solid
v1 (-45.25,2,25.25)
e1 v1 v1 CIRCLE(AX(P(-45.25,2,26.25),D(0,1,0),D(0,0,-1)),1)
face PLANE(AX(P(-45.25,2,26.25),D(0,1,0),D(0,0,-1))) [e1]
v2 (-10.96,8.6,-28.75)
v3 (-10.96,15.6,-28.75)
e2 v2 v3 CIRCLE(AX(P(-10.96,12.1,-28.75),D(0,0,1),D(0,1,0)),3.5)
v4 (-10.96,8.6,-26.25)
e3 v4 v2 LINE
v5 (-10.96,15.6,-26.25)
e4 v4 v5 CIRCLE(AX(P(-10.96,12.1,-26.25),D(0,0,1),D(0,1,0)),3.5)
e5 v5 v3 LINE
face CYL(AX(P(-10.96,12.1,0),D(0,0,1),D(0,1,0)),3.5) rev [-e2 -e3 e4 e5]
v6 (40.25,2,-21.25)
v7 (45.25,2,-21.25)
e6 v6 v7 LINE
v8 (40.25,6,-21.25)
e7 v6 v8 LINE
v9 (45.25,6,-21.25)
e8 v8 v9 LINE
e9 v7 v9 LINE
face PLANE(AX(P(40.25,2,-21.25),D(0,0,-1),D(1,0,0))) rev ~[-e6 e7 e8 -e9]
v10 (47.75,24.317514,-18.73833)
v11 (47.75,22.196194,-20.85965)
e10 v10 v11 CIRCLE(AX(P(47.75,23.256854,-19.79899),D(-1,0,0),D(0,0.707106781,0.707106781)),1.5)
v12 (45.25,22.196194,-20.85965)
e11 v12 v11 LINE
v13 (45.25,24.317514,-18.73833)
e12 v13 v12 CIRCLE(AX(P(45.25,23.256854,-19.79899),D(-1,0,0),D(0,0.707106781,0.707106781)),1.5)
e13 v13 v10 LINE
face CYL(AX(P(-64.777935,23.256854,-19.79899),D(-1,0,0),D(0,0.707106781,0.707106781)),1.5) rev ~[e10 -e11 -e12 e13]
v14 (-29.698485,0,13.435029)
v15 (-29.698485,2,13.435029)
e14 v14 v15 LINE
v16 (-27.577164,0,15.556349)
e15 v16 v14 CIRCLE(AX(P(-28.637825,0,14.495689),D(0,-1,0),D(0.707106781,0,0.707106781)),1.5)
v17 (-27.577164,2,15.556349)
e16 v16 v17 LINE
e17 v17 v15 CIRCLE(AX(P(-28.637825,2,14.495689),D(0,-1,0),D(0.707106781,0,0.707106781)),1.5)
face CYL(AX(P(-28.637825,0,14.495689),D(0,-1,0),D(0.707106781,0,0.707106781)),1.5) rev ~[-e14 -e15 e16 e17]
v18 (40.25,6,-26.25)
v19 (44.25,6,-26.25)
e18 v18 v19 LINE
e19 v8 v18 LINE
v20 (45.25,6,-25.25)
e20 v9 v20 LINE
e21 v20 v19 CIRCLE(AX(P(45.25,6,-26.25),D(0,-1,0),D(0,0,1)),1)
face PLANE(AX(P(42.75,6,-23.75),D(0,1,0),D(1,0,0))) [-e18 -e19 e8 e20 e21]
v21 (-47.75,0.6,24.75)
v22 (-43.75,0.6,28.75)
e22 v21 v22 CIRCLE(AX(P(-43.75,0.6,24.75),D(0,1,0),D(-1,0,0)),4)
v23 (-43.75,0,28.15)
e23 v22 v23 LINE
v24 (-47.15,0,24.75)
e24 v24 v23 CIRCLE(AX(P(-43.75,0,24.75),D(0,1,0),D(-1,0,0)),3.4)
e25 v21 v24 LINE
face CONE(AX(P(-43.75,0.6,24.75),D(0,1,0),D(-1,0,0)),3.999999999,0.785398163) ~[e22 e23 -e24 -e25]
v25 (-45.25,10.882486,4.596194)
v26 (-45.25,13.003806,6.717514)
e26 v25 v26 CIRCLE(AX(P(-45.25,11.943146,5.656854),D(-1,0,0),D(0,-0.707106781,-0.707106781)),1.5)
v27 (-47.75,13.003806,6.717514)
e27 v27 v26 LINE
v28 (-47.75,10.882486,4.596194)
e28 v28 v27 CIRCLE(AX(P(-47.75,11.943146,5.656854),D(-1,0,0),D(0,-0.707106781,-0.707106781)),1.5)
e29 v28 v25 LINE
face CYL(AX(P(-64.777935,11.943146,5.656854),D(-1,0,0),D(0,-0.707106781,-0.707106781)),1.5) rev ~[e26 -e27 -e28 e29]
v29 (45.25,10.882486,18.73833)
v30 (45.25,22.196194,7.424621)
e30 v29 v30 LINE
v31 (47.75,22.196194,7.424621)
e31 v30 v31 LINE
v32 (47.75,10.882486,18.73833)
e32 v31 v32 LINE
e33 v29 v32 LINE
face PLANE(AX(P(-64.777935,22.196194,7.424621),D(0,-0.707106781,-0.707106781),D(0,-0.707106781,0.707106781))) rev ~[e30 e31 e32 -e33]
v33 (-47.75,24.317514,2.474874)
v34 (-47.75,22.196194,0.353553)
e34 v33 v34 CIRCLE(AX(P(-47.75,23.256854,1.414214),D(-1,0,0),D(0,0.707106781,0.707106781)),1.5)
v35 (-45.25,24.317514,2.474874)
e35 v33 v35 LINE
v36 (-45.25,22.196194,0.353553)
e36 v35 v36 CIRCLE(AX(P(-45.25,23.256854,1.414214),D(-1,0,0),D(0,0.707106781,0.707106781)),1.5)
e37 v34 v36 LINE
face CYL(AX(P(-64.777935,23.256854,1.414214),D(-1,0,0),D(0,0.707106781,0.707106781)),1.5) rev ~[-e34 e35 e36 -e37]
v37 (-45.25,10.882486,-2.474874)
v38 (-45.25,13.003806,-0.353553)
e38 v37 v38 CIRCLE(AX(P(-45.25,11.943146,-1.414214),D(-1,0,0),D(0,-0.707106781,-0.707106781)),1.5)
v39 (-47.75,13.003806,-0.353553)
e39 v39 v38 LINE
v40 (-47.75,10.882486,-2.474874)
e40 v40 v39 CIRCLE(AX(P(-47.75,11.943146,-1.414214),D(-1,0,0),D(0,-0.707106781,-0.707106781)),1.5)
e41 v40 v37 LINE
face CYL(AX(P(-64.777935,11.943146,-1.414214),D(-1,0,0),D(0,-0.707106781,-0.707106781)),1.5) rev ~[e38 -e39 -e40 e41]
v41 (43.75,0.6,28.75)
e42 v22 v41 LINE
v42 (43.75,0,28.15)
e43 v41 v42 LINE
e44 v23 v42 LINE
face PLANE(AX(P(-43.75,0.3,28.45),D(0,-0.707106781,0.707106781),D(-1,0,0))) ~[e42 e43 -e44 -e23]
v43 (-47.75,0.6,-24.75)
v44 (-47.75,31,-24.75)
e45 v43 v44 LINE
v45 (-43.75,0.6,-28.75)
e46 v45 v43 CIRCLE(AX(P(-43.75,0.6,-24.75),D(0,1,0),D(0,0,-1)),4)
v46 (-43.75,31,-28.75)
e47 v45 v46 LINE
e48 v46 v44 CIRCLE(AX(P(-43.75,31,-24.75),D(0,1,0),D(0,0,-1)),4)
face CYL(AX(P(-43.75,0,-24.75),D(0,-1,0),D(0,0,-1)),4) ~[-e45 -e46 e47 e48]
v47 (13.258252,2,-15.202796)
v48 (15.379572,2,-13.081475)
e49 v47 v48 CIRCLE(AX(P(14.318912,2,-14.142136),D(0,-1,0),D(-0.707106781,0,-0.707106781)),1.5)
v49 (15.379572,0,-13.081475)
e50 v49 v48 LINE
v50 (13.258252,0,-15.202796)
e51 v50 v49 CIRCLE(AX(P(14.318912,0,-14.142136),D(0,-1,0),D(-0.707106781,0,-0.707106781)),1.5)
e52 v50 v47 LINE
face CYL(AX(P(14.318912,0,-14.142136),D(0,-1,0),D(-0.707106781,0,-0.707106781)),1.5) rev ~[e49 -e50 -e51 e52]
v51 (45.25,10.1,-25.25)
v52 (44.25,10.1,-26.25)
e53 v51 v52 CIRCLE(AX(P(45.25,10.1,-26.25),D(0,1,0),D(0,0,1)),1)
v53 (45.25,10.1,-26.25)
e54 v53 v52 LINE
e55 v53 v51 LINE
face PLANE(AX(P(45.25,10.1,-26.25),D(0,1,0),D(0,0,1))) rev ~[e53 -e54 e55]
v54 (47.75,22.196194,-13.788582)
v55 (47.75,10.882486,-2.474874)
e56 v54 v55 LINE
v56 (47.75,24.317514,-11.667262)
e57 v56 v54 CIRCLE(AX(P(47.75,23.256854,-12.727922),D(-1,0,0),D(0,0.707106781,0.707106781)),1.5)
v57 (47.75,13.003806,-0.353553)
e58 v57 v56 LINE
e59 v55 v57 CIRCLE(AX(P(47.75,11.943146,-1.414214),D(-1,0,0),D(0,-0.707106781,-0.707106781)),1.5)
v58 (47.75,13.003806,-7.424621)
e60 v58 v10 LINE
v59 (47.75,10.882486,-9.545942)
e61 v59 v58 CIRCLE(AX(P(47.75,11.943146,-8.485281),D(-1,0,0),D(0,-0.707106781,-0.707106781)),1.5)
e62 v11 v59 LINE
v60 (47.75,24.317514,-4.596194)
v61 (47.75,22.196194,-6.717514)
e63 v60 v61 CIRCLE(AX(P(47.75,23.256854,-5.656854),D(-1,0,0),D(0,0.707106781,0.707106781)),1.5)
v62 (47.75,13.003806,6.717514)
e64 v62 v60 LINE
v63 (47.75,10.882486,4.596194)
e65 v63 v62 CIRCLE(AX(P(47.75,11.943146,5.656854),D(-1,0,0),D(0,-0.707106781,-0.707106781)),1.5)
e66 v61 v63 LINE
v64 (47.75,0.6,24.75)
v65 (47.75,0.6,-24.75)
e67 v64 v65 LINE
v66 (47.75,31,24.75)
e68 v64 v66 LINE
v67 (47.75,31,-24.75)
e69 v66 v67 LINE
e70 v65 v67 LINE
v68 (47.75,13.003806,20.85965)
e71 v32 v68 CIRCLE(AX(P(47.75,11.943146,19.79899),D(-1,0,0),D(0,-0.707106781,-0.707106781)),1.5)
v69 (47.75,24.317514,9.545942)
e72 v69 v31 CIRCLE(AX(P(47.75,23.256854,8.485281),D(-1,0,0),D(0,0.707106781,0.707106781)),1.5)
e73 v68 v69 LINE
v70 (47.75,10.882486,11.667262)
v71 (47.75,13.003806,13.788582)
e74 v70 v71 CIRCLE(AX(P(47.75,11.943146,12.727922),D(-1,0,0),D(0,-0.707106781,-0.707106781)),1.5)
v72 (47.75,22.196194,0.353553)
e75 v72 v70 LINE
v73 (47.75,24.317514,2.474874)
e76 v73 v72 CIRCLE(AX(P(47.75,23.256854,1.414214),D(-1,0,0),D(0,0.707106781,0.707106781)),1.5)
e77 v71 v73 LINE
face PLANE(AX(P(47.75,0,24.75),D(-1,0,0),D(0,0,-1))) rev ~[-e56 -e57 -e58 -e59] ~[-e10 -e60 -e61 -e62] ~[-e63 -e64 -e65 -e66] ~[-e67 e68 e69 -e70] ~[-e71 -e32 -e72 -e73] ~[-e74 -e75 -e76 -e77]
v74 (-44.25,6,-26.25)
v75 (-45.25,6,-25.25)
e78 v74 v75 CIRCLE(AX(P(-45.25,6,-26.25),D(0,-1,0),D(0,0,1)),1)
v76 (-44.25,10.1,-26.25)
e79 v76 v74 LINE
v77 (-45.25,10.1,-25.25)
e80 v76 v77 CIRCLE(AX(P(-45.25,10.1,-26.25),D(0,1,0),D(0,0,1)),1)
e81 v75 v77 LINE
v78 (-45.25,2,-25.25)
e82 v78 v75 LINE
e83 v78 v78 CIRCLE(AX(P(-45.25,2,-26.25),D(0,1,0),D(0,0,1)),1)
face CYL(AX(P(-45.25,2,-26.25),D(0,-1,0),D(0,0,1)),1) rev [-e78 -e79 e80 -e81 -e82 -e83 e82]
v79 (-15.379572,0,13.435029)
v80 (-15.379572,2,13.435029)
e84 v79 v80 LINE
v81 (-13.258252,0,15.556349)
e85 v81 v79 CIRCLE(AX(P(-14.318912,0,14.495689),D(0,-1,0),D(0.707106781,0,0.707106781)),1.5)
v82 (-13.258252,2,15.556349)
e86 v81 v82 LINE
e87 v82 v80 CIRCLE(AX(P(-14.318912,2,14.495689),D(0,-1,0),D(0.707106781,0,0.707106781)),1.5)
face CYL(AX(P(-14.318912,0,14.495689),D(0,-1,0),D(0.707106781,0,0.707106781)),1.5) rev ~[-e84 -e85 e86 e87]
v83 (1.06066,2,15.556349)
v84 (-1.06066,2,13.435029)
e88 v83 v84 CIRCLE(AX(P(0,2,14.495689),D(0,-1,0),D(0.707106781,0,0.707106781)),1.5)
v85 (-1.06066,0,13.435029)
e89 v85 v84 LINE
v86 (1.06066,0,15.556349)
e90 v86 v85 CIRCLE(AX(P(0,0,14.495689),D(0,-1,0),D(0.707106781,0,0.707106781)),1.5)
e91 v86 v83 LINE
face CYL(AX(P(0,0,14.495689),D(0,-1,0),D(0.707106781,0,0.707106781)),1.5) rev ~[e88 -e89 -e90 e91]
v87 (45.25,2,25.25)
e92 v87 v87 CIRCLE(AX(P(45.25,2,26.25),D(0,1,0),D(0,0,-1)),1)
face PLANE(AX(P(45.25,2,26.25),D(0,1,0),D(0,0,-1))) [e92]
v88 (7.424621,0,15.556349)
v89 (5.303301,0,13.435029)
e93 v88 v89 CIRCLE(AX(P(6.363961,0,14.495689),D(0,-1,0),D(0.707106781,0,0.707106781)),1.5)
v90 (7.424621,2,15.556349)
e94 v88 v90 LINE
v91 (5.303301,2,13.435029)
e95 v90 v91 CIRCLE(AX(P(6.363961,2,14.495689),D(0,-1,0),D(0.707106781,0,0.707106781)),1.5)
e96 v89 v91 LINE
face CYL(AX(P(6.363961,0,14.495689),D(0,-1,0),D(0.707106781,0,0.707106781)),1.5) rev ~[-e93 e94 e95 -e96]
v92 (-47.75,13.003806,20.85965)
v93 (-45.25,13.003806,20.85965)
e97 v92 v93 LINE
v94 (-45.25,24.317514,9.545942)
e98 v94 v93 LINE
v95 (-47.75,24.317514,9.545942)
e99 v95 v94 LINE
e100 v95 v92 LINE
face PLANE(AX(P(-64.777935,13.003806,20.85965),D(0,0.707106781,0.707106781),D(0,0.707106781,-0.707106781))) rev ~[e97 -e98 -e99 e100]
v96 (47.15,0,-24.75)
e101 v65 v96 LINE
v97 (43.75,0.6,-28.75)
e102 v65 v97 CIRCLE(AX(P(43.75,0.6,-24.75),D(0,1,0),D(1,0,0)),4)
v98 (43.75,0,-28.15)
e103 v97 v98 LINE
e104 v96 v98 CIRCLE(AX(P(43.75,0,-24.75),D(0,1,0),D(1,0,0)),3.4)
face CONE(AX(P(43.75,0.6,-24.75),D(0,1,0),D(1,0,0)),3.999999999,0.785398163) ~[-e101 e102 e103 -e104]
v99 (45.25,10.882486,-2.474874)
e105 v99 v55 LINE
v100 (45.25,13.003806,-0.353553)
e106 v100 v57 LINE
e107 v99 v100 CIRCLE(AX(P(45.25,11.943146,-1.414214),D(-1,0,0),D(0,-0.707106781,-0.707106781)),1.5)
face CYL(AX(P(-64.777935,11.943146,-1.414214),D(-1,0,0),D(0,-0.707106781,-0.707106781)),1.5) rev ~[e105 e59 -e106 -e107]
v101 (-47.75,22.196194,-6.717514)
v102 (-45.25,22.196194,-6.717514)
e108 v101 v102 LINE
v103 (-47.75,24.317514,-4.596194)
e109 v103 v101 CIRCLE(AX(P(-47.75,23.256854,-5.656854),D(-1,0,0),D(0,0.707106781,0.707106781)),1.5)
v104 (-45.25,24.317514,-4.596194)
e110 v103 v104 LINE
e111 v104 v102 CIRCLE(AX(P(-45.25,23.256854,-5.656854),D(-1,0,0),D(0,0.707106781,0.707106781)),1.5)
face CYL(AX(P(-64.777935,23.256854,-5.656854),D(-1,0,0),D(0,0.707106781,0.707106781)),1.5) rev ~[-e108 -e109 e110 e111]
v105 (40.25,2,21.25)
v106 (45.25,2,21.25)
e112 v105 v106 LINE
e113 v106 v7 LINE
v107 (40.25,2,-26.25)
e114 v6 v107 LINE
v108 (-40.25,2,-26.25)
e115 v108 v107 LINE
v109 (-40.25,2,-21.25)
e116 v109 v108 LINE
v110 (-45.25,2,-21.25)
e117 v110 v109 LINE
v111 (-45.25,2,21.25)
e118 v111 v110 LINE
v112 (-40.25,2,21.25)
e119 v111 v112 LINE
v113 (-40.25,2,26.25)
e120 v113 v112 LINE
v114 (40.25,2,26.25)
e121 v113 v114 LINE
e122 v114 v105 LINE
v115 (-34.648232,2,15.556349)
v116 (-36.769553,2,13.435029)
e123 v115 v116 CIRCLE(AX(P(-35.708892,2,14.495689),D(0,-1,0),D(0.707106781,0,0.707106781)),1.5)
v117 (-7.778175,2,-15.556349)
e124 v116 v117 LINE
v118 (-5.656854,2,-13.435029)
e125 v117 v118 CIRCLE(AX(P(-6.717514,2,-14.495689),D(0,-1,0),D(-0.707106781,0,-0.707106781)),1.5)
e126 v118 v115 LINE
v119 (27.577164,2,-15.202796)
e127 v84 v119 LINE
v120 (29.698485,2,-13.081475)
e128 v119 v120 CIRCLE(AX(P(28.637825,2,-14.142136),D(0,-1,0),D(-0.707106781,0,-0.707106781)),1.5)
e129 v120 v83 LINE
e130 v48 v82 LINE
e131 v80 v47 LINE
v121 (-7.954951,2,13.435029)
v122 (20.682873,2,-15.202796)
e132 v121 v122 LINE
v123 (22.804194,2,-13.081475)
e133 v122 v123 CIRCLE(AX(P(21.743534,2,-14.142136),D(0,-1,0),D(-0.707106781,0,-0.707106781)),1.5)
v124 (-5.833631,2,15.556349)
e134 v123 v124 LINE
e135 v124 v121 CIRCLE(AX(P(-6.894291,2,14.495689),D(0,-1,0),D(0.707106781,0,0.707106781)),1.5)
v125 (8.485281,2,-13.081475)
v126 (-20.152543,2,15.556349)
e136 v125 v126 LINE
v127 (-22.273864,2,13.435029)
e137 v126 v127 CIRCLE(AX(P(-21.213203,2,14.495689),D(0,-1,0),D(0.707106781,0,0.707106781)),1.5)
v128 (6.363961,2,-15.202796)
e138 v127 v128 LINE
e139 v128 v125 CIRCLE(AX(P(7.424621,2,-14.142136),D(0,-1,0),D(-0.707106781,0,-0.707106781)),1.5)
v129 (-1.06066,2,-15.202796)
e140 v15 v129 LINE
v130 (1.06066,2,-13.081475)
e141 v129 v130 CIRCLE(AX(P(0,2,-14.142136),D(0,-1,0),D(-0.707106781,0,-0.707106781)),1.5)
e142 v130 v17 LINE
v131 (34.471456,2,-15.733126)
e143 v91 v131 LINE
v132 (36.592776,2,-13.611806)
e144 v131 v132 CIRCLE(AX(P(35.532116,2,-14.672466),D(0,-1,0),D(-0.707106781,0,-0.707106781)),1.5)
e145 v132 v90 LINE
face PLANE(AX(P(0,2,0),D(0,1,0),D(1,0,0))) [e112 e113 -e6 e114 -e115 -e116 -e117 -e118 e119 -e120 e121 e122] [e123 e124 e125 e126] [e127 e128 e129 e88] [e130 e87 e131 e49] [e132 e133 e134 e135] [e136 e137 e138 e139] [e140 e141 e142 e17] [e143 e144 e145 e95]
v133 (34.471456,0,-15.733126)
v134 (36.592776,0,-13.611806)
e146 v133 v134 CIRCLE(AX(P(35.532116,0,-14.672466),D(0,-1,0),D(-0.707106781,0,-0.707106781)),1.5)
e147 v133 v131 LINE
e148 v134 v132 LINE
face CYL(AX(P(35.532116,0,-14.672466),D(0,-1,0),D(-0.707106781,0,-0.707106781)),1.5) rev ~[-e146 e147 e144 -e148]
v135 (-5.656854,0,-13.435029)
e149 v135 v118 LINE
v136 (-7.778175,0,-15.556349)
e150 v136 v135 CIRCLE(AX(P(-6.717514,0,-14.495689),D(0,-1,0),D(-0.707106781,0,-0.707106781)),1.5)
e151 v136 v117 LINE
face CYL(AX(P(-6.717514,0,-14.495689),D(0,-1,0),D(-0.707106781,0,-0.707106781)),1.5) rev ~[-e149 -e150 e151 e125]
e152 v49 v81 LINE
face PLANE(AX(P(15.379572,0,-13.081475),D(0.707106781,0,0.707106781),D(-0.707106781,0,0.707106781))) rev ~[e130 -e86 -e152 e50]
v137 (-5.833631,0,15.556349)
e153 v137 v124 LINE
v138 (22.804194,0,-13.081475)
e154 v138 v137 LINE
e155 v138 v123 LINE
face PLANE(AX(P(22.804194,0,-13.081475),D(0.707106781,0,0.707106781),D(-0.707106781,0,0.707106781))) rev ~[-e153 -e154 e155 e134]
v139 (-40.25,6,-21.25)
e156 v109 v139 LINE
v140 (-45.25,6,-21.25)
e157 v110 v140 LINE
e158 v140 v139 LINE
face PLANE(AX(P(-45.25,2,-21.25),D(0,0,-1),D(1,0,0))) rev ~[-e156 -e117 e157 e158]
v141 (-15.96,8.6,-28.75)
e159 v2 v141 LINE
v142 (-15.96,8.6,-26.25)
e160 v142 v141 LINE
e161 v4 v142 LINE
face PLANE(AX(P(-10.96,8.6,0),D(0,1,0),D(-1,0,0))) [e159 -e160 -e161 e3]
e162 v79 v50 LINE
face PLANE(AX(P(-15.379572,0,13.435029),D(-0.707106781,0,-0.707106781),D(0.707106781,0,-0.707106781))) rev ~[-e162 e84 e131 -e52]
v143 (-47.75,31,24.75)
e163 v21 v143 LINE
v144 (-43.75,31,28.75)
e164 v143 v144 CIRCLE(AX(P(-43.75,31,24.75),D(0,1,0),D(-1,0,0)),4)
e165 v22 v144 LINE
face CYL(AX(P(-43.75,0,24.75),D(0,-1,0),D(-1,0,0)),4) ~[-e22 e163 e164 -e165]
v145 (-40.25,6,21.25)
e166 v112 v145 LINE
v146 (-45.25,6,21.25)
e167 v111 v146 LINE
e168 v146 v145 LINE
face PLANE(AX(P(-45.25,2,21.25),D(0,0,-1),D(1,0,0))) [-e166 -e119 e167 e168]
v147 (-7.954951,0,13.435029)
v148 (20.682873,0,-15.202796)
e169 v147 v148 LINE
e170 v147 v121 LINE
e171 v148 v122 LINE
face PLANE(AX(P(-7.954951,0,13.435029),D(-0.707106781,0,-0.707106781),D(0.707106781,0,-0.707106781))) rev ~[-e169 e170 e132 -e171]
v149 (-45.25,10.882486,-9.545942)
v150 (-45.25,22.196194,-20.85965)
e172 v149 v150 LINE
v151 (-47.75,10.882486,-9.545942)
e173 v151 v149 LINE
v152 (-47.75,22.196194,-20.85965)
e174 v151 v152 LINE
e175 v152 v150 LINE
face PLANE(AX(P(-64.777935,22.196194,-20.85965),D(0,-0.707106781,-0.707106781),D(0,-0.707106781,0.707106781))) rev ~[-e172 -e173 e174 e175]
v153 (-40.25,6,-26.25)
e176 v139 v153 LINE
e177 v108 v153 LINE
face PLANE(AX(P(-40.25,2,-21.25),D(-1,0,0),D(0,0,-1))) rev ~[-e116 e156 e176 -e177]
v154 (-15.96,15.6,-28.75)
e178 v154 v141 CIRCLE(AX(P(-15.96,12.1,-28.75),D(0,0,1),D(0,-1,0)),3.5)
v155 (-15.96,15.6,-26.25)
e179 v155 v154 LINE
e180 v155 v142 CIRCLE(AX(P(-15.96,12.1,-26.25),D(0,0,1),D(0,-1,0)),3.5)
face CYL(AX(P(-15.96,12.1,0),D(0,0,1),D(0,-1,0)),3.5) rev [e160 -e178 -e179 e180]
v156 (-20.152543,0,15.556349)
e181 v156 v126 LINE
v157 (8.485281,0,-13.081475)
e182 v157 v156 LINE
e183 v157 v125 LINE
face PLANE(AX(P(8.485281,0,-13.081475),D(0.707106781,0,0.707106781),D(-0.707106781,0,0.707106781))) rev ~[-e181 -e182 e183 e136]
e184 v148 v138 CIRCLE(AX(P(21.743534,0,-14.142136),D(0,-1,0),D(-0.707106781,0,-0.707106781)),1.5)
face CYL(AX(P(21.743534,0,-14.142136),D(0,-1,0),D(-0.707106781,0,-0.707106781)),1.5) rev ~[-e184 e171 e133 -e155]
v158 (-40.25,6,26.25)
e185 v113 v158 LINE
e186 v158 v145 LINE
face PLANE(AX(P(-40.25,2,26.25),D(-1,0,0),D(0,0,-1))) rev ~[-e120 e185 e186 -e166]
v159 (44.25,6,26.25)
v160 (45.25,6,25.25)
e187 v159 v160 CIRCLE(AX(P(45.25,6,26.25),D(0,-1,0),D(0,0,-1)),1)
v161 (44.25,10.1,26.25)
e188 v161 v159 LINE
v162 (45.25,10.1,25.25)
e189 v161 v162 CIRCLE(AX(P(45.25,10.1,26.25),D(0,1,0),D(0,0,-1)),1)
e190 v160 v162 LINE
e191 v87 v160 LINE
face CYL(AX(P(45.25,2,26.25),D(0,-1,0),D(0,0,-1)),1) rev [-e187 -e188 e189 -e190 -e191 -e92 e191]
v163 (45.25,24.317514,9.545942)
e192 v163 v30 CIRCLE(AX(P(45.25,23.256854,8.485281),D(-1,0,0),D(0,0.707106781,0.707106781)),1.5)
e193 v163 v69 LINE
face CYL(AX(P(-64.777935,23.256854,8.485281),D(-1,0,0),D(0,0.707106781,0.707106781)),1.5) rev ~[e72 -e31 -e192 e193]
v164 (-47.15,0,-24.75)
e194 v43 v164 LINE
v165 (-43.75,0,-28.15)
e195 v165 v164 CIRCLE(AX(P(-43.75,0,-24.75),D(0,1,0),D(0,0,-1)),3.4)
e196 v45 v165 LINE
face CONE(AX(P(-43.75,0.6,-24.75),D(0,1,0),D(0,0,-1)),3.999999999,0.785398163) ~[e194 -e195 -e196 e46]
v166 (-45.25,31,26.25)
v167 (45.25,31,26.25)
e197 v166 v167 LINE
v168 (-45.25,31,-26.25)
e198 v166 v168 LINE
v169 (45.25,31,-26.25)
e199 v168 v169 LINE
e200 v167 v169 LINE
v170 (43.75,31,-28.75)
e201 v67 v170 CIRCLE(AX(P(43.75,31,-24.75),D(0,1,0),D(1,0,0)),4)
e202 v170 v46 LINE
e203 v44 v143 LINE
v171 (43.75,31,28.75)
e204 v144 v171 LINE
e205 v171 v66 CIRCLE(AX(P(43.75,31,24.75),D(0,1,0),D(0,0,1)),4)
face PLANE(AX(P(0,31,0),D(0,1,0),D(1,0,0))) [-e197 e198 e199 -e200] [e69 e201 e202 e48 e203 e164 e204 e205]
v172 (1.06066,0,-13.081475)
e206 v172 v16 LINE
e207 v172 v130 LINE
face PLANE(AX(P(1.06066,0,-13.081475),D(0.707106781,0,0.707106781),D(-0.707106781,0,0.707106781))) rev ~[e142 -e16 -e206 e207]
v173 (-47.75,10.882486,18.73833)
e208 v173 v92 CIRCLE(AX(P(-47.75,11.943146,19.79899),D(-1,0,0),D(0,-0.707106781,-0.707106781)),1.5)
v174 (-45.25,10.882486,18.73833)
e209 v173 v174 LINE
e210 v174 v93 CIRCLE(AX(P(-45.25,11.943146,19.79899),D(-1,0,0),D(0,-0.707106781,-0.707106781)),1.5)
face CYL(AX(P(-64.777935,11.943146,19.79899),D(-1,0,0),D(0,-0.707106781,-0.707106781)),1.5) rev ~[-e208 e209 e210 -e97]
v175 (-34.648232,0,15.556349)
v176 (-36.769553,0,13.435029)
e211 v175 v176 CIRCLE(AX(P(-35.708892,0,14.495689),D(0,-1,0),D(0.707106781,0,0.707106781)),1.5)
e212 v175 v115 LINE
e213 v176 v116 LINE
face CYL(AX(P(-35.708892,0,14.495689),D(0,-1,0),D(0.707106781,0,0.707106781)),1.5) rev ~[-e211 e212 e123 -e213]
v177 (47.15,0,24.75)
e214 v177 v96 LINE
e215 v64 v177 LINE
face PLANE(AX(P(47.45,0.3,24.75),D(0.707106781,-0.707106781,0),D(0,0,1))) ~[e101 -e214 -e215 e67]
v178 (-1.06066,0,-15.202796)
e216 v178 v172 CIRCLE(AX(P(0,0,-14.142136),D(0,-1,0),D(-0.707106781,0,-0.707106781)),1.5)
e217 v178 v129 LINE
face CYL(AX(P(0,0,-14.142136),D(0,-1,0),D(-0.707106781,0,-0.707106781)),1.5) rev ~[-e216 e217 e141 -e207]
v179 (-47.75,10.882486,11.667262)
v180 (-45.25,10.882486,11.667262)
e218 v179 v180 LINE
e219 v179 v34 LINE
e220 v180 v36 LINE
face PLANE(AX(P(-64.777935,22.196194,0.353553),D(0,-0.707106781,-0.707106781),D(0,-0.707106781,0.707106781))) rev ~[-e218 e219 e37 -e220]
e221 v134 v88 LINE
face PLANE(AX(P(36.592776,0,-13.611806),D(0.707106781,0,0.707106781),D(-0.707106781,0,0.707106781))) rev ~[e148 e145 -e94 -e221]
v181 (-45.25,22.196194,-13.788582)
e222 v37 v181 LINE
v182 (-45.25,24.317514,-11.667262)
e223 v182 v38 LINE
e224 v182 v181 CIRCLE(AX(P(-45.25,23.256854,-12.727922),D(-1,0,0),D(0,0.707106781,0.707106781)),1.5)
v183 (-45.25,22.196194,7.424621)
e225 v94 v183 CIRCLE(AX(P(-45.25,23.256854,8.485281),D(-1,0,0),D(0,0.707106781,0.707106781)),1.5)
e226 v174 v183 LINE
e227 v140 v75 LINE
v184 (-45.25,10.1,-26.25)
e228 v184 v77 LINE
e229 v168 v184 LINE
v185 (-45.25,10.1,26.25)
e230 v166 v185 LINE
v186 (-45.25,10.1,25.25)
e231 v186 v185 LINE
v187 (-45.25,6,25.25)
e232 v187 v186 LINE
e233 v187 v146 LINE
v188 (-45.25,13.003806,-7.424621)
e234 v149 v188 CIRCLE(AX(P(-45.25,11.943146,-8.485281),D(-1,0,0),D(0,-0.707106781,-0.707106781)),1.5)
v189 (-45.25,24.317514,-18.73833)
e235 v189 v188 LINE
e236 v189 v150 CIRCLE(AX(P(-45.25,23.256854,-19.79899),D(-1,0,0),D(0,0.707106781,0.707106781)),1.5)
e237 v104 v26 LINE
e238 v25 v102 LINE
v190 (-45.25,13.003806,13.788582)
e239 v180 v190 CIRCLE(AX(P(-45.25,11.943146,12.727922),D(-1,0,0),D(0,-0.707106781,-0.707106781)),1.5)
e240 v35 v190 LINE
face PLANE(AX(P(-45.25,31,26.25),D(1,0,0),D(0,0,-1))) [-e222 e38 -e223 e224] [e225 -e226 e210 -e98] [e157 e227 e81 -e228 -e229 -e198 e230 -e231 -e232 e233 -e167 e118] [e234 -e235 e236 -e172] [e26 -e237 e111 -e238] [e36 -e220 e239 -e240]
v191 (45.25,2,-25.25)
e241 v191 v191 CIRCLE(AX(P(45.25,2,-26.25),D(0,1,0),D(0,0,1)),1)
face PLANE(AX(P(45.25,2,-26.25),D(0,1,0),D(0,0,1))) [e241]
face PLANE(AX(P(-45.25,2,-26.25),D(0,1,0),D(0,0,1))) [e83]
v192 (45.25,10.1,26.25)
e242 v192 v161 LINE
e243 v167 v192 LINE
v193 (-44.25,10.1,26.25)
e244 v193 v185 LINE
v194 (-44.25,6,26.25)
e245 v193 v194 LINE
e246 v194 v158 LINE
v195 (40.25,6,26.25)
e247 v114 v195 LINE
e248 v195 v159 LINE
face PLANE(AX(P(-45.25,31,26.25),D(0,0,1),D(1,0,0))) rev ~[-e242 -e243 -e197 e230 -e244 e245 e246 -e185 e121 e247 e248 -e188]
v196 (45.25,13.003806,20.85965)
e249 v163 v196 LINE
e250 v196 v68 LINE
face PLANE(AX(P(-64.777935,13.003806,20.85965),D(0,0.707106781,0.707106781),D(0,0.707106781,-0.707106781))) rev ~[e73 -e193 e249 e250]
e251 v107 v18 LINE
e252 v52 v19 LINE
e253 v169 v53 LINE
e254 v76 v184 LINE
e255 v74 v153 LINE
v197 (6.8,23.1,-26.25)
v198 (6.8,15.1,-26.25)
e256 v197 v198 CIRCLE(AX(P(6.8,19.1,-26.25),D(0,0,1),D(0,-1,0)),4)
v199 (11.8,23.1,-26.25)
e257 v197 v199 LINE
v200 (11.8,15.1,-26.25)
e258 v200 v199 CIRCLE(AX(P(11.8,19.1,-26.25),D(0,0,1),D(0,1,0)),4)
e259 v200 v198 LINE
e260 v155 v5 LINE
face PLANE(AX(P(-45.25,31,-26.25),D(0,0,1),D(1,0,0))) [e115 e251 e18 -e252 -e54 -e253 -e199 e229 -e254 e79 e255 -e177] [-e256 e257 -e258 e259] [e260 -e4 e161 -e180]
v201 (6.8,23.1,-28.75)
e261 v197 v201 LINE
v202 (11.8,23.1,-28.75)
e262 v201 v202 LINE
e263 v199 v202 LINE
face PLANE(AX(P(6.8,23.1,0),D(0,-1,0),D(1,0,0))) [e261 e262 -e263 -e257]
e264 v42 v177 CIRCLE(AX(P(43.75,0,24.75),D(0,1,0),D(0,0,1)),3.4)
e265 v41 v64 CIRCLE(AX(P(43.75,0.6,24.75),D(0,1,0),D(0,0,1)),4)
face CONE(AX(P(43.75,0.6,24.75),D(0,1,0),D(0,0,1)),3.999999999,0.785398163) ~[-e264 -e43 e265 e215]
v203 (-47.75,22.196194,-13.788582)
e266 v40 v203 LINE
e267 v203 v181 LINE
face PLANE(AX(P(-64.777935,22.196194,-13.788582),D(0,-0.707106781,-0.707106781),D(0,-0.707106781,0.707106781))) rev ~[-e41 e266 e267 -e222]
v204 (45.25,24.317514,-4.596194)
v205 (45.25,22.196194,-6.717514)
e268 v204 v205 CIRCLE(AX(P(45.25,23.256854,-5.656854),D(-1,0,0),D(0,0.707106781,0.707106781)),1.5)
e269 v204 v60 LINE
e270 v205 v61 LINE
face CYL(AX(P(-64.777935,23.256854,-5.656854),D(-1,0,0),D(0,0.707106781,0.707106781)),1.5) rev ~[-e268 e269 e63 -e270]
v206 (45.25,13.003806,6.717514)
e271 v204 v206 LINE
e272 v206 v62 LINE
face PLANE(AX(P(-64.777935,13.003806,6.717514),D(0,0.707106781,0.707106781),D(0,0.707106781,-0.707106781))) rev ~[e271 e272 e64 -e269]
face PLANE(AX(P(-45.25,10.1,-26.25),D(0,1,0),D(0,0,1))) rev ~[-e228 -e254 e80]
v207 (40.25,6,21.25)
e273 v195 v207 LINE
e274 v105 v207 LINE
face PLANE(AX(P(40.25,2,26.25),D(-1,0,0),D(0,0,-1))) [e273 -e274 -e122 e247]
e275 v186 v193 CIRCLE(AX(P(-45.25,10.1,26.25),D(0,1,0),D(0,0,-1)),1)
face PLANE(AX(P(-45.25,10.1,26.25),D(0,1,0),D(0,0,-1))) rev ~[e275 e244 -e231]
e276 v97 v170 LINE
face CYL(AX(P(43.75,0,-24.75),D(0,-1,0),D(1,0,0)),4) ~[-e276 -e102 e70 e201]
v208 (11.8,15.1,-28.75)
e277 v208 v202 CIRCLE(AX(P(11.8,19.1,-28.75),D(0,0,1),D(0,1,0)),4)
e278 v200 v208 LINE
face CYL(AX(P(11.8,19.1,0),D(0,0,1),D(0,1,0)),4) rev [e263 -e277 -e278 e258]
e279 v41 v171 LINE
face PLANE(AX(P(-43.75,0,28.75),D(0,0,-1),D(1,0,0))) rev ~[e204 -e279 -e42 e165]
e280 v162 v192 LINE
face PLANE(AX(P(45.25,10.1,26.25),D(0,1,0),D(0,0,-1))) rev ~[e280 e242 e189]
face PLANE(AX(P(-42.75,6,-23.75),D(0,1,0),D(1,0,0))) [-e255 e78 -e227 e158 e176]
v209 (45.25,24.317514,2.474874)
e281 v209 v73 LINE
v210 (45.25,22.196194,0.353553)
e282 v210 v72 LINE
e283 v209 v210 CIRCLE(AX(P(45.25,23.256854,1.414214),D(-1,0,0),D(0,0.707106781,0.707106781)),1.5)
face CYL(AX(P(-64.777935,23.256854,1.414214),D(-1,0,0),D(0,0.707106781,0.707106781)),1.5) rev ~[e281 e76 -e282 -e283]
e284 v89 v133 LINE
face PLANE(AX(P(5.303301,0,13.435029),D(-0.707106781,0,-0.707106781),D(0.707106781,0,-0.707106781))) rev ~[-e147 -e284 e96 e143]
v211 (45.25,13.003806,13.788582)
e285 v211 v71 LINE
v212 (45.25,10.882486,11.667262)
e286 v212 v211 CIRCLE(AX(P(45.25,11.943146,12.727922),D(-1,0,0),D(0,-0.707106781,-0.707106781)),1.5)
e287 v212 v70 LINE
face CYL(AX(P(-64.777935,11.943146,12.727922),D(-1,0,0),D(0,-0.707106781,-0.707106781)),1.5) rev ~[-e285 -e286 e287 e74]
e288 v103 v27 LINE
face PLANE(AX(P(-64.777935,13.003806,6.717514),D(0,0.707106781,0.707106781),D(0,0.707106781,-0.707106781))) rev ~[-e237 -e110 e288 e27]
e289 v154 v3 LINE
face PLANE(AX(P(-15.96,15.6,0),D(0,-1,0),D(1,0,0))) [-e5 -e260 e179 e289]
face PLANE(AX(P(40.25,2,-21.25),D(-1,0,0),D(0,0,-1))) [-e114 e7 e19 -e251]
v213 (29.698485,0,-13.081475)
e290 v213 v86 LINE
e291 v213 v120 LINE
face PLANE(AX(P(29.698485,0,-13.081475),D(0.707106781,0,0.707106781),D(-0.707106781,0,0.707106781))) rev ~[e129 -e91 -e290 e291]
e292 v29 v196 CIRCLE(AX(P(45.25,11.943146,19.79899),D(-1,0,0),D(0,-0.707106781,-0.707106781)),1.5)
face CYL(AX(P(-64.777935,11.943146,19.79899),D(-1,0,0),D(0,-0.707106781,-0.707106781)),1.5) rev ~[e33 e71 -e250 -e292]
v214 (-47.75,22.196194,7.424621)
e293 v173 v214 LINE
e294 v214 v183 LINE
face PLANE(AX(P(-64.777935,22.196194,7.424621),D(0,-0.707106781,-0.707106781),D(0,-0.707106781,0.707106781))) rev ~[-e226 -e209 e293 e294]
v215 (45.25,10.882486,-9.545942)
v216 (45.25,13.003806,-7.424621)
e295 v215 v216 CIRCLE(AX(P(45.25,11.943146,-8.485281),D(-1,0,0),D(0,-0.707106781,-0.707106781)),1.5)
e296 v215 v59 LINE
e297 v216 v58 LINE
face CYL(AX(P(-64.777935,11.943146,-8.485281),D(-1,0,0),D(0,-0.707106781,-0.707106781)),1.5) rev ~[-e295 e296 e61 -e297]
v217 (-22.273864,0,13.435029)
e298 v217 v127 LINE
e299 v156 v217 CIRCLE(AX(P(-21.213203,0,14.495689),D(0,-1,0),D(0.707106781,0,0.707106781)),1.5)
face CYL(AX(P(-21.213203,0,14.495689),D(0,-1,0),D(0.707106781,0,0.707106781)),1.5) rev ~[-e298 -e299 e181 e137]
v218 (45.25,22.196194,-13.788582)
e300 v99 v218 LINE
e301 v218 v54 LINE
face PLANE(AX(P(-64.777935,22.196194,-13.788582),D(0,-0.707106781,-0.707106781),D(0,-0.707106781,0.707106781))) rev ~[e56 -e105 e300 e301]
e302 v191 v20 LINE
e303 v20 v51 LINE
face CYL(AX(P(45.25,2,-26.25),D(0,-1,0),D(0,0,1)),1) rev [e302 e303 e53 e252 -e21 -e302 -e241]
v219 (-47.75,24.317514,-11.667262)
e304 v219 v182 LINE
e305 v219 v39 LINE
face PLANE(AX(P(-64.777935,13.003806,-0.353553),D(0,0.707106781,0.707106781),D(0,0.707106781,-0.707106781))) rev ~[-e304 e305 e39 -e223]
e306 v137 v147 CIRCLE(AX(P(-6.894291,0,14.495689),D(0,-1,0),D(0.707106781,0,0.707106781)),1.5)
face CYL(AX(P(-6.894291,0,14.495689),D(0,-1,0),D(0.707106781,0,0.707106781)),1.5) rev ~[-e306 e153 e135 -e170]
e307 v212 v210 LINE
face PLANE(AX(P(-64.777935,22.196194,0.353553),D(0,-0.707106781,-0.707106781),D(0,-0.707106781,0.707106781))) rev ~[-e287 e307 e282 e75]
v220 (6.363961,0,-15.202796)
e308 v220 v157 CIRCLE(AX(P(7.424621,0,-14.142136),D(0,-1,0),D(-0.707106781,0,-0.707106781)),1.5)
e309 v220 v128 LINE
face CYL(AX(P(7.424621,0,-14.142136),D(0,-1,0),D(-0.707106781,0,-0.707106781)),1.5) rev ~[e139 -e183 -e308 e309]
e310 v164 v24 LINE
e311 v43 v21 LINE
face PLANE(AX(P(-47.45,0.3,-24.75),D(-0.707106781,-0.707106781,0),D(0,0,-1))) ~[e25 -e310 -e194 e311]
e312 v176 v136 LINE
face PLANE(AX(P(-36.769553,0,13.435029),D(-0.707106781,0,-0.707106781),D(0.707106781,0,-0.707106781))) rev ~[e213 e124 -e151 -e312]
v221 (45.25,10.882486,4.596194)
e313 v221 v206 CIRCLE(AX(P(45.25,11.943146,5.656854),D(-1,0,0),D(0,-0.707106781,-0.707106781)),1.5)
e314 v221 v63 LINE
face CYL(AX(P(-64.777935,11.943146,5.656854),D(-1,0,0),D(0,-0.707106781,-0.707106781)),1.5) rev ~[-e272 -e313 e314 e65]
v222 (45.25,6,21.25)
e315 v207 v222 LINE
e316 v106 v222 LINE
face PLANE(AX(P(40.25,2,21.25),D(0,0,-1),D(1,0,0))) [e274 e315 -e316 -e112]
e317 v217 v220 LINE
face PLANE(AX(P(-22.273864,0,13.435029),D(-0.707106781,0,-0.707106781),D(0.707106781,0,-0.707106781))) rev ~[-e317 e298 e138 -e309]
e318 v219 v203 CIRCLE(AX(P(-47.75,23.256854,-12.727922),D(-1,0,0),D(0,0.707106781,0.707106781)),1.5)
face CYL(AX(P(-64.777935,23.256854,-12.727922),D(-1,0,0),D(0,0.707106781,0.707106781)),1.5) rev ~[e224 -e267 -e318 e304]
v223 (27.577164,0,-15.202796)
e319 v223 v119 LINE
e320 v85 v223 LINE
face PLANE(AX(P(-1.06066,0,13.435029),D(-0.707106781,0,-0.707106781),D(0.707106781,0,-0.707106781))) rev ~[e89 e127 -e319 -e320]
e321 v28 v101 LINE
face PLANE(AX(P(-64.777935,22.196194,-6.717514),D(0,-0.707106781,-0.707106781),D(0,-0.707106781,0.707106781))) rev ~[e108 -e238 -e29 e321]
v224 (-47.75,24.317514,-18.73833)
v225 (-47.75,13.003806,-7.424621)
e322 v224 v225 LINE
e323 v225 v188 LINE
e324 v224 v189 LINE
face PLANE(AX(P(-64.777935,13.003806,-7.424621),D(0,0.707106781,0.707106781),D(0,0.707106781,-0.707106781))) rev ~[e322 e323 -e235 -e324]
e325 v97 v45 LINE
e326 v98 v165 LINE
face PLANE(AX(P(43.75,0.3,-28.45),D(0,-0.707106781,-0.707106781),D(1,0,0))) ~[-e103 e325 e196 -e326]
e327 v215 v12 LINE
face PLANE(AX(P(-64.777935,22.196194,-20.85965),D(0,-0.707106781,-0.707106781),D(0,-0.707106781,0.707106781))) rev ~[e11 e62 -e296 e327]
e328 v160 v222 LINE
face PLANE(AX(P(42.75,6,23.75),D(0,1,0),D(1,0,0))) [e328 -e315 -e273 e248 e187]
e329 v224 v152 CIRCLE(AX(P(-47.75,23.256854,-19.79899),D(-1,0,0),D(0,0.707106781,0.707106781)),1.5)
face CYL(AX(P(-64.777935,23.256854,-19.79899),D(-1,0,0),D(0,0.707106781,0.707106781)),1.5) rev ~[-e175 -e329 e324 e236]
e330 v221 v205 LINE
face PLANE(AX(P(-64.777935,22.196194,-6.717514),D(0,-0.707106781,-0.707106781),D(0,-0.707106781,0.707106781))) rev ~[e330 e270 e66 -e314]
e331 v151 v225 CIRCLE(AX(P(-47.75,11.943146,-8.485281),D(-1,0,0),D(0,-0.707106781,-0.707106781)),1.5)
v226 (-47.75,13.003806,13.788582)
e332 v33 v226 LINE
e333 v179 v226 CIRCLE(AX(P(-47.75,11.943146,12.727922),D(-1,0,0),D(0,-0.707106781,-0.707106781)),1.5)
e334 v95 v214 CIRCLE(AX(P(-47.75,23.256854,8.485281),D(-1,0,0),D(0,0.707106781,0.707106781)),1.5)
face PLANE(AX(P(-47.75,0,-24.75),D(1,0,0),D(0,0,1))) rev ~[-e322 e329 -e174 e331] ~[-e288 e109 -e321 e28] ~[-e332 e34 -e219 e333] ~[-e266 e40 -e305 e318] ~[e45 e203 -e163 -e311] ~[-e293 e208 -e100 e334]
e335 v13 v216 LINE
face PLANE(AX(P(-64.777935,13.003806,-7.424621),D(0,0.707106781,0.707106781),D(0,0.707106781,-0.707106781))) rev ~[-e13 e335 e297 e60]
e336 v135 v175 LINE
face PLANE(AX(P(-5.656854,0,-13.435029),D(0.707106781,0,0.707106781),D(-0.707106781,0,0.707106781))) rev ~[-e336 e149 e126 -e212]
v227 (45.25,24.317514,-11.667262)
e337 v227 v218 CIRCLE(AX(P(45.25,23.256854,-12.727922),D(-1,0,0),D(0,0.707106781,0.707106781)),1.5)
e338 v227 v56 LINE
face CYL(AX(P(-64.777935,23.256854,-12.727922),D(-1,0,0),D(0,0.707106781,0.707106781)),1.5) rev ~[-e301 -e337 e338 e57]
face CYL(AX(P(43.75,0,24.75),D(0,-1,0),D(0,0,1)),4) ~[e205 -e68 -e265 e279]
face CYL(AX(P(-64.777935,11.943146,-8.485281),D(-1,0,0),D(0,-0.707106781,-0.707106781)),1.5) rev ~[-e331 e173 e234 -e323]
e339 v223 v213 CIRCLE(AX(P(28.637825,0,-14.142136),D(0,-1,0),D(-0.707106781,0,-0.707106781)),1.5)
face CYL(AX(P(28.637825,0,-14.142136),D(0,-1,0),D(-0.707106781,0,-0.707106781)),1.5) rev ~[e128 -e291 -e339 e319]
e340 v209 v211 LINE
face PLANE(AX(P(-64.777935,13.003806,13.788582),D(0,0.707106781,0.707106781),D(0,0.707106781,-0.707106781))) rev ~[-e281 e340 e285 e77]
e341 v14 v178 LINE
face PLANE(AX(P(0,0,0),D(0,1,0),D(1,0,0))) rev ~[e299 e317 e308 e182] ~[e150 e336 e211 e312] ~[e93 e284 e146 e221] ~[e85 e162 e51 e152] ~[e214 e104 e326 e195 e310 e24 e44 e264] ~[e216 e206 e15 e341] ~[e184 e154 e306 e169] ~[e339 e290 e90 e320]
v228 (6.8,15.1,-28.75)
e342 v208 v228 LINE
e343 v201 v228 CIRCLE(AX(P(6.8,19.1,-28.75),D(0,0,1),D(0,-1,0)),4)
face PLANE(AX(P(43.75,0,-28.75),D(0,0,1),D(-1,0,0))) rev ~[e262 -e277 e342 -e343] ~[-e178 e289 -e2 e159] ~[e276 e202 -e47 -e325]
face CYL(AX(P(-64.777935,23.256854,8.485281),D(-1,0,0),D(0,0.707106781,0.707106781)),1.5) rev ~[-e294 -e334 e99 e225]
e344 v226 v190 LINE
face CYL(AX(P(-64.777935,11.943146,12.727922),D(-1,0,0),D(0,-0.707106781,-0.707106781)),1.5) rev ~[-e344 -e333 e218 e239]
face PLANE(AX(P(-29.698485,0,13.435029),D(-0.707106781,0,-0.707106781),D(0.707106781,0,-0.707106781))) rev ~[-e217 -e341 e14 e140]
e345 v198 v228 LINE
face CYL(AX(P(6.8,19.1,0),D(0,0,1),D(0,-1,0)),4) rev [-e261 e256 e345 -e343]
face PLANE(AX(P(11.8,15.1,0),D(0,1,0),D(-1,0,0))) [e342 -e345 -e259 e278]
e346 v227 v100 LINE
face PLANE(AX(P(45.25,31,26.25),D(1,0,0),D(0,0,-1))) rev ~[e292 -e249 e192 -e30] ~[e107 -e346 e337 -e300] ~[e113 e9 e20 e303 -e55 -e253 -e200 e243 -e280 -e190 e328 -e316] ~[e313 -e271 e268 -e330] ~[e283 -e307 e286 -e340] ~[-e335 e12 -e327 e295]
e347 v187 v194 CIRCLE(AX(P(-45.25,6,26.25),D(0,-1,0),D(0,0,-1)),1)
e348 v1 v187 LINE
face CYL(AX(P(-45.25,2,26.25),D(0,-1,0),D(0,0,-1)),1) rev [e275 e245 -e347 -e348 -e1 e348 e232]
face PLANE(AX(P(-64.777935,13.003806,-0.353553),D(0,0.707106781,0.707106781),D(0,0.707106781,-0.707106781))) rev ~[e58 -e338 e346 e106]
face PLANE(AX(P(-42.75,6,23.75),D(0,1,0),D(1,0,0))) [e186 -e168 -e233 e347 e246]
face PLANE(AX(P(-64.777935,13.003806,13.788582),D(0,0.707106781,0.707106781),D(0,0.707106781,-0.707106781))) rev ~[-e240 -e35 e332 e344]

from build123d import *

# Parameters (mm, degrees)
CUERPO_DEPTH                  = 31
CROQUIS_HUECO_PCB_W           = 90.5
CROQUIS_HUECO_PCB_H           = 52.5
HUECO_PCB_DEPTH               = 29
CROQUIS_APOYOS_W              = 5
CROQUIS_APOYOS_H              = 5
APOYOS_PCB_DEPTH              = 4
CROQUIS_ALIVIOS_R             = 1
ALIVIOS_ESQUINAS_DEPTH        = 8.1
SALIDAS_USB_Y_PANEL_DEPTH     = 64.777935056
VENTILAS_LATERALES_DEPTH      = 64.777935056
VENTILAS_LATERALES_DEPTH_BACK = 64.777935056
REJILLA_PISO_DEPTH            = 2
CHAFLAN_BASE_SIZE             = 0.6


with BuildPart() as part:
    # Croquis_contorno → Cuerpo (new body)
    with BuildSketch(Plane(origin=(0, 0, 0), x_dir=(1, 0, 0), z_dir=(0, 1, 0))):
        with BuildLine():
            Line((-43.75, -28.75), (43.75, -28.75))
            ThreePointArc((43.75, -28.75), (46.578427125, -27.578427125), (47.75, -24.75))
            Line((47.75, -24.75), (47.75, 24.75))
            ThreePointArc((47.75, 24.75), (46.578427125, 27.578427125), (43.75, 28.75))
            Line((43.75, 28.75), (-43.75, 28.75))
            ThreePointArc((-43.75, 28.75), (-46.578427125, 27.578427125), (-47.75, 24.75))
            Line((-47.75, 24.75), (-47.75, -24.75))
            ThreePointArc((-47.75, -24.75), (-46.578427125, -27.578427125), (-43.75, -28.75))
        make_face()
    extrude(amount=CUERPO_DEPTH)

    # Croquis_hueco_PCB → Hueco_PCB (cut)
    with BuildSketch(Plane(origin=(0, 31, 0), x_dir=(1, 0, 0), z_dir=(0, 1, 0))):
        Rectangle(CROQUIS_HUECO_PCB_W, CROQUIS_HUECO_PCB_H)
    extrude(amount=-HUECO_PCB_DEPTH, mode=Mode.SUBTRACT)

    # Croquis_apoyos → Apoyos_PCB (add)
    with BuildSketch(Plane(origin=(0, 2, 0), x_dir=(1, 0, 0), z_dir=(0, 1, 0))):
        with Locations((-42.75, -23.75)):
            Rectangle(CROQUIS_APOYOS_W, CROQUIS_APOYOS_H)
        with Locations((-42.75, 23.75)):
            Rectangle(CROQUIS_APOYOS_W, CROQUIS_APOYOS_H)
        with Locations((42.75, -23.75)):
            Rectangle(CROQUIS_APOYOS_W, CROQUIS_APOYOS_H)
        with Locations((42.75, 23.75)):
            Rectangle(CROQUIS_APOYOS_W, CROQUIS_APOYOS_H)
    extrude(amount=APOYOS_PCB_DEPTH)

    # Croquis_alivios → Alivios_esquinas (cut)
    with BuildSketch(Plane(origin=(0, 2, 0), x_dir=(1, 0, 0), z_dir=(0, 1, 0))):
        with Locations(Location((-45.25, -26.25, 0), (0, 0, 90))):
            Circle(CROQUIS_ALIVIOS_R)
        with Locations(Location((-45.25, 26.25, 0), (0, 0, 270))):
            Circle(CROQUIS_ALIVIOS_R)
        with Locations(Location((45.25, -26.25, 0), (0, 0, 90))):
            Circle(CROQUIS_ALIVIOS_R)
        with Locations(Location((45.25, 26.25, 0), (0, 0, 270))):
            Circle(CROQUIS_ALIVIOS_R)
    extrude(amount=ALIVIOS_ESQUINAS_DEPTH, mode=Mode.SUBTRACT)

    # Croquis_salidas → Salidas_USB_y_panel (cut, through all)
    with BuildSketch(Plane.XY):
        with BuildLine():
            Line((6.8, 23.1), (11.8, 23.1))
            ThreePointArc((11.8, 23.1), (15.8, 19.1), (11.8, 15.1))
            Line((11.8, 15.1), (6.8, 15.1))
            ThreePointArc((6.8, 15.1), (2.8, 19.1), (6.8, 23.1))
        make_face()
        with BuildLine():
            Line((-15.96, 15.6), (-10.96, 15.6))
            ThreePointArc((-10.96, 15.6), (-7.46, 12.1), (-10.96, 8.6))
            Line((-10.96, 8.6), (-15.96, 8.6))
            ThreePointArc((-15.96, 8.6), (-19.46, 12.1), (-15.96, 15.6))
        make_face()
    extrude(amount=-SALIDAS_USB_Y_PANEL_DEPTH, mode=Mode.SUBTRACT)

    # Croquis_ventilas → Ventilas_laterales (cut, two sides: drawn at the far end of the back side and taken through both)
    with BuildSketch(Plane(origin=(0, 0, 0), x_dir=(0, 0, -1), z_dir=(1, 0, 0)).offset(-VENTILAS_LATERALES_DEPTH_BACK)):
        with BuildLine():
            Line((-20.859650045, 13.003805922), (-9.545941546, 24.317514421))
            ThreePointArc((-9.545941546, 24.317514421), (-7.424621202, 24.317514421), (-7.424621202, 22.196194078))
            Line((-7.424621202, 22.196194078), (-18.738329701, 10.882485579))
            ThreePointArc((-18.738329701, 10.882485579), (-20.859650045, 10.882485579), (-20.859650045, 13.003805922))
        make_face()
        with BuildLine():
            Line((-13.788582233, 13.003805922), (-2.474873734, 24.317514421))
            ThreePointArc((-2.474873734, 24.317514421), (-0.353553391, 24.317514421), (-0.353553391, 22.196194078))
            Line((-0.353553391, 22.196194078), (-11.66726189, 10.882485579))
            ThreePointArc((-11.66726189, 10.882485579), (-13.788582233, 10.882485579), (-13.788582233, 13.003805922))
        make_face()
        with BuildLine():
            Line((-6.717514421, 13.003805922), (4.596194078, 24.317514421))
            ThreePointArc((4.596194078, 24.317514421), (6.717514421, 24.317514421), (6.717514421, 22.196194078))
            Line((6.717514421, 22.196194078), (-4.596194078, 10.882485579))
            ThreePointArc((-4.596194078, 10.882485579), (-6.717514421, 10.882485579), (-6.717514421, 13.003805922))
        make_face()
        with BuildLine():
            Line((0.353553391, 13.003805922), (11.66726189, 24.317514421))
            ThreePointArc((11.66726189, 24.317514421), (13.788582233, 24.317514421), (13.788582233, 22.196194078))
            Line((13.788582233, 22.196194078), (2.474873734, 10.882485579))
            ThreePointArc((2.474873734, 10.882485579), (0.353553391, 10.882485579), (0.353553391, 13.003805922))
        make_face()
        with BuildLine():
            Line((7.424621202, 13.003805922), (18.738329701, 24.317514421))
            ThreePointArc((18.738329701, 24.317514421), (20.859650045, 24.317514421), (20.859650045, 22.196194078))
            Line((20.859650045, 22.196194078), (9.545941546, 10.882485579))
            ThreePointArc((9.545941546, 10.882485579), (7.424621202, 10.882485579), (7.424621202, 13.003805922))
        make_face()
    extrude(amount=VENTILAS_LATERALES_DEPTH + VENTILAS_LATERALES_DEPTH_BACK, mode=Mode.SUBTRACT)

    # Croquis_rejilla_piso → Rejilla_piso (cut)
    with BuildSketch(Plane(origin=(0, 0, 0), x_dir=(1, 0, 0), z_dir=(0, 1, 0))):
        with BuildLine():
            Line((-36.769552622, -13.435028843), (-7.778174593, 15.556349186))
            ThreePointArc((-7.778174593, 15.556349186), (-5.656854249, 15.556349186), (-5.656854249, 13.435028843))
            Line((-5.656854249, 13.435028843), (-34.648232278, -15.556349186))
            ThreePointArc((-34.648232278, -15.556349186), (-36.769552622, -15.556349186), (-36.769552622, -13.435028843))
        make_face()
        with BuildLine():
            Line((-29.69848481, -13.435028843), (-1.060660172, 15.202795796))
            ThreePointArc((-1.060660172, 15.202795796), (1.060660172, 15.202795796), (1.060660172, 13.081475452))
            Line((1.060660172, 13.081475452), (-27.577164466, -15.556349186))
            ThreePointArc((-27.577164466, -15.556349186), (-29.69848481, -15.556349186), (-29.69848481, -13.435028843))
        make_face()
        with BuildLine():
            Line((-22.273863607, -13.435028843), (6.363961031, 15.202795796))
            ThreePointArc((6.363961031, 15.202795796), (8.485281374, 15.202795796), (8.485281374, 13.081475452))
            Line((8.485281374, 13.081475452), (-20.152543264, -15.556349186))
            ThreePointArc((-20.152543264, -15.556349186), (-22.273863607, -15.556349186), (-22.273863607, -13.435028843))
        make_face()
        with BuildLine():
            Line((-15.379572491, -13.435028843), (13.258252147, 15.202795796))
            ThreePointArc((13.258252147, 15.202795796), (15.379572491, 15.202795796), (15.379572491, 13.081475452))
            Line((15.379572491, 13.081475452), (-13.258252147, -15.556349186))
            ThreePointArc((-13.258252147, -15.556349186), (-15.379572491, -15.556349186), (-15.379572491, -13.435028843))
        make_face()
        with BuildLine():
            Line((-7.954951288, -13.435028843), (20.68287335, 15.202795796))
            ThreePointArc((20.68287335, 15.202795796), (22.804193693, 15.202795796), (22.804193693, 13.081475452))
            Line((22.804193693, 13.081475452), (-5.833630945, -15.556349186))
            ThreePointArc((-5.833630945, -15.556349186), (-7.954951288, -15.556349186), (-7.954951288, -13.435028843))
        make_face()
        with BuildLine():
            Line((-1.060660172, -13.435028843), (27.577164466, 15.202795796))
            ThreePointArc((27.577164466, 15.202795796), (29.69848481, 15.202795796), (29.69848481, 13.081475452))
            Line((29.69848481, 13.081475452), (1.060660172, -15.556349186))
            ThreePointArc((1.060660172, -15.556349186), (-1.060660172, -15.556349186), (-1.060660172, -13.435028843))
        make_face()
        with BuildLine():
            Line((5.303300859, -13.435028843), (34.471455583, 15.733125881))
            ThreePointArc((34.471455583, 15.733125881), (36.592775926, 15.733125881), (36.592775926, 13.611805538))
            Line((36.592775926, 13.611805538), (7.424621202, -15.556349186))
            ThreePointArc((7.424621202, -15.556349186), (5.303300859, -15.556349186), (5.303300859, -13.435028843))
        make_face()
    extrude(amount=REJILLA_PISO_DEPTH, mode=Mode.SUBTRACT)

    # Chaflan_base
    chaflan_base_edges = [part.edges().sort_by_distance(p)[0] for p in [
        (47.75, 0, 0),
        (46.578427125, 0, 27.578427125),
        (0, 0, 28.75),
        (-46.578427125, 0, 27.578427125),
        (-47.75, 0, 0),
        (-46.578427125, 0, -27.578427125),
        (0, 0, -28.75),
        (46.578427125, 0, -27.578427125),
    ]]
    chamfer(chaflan_base_edges, length=CHAFLAN_BASE_SIZE)


solid = part.part
